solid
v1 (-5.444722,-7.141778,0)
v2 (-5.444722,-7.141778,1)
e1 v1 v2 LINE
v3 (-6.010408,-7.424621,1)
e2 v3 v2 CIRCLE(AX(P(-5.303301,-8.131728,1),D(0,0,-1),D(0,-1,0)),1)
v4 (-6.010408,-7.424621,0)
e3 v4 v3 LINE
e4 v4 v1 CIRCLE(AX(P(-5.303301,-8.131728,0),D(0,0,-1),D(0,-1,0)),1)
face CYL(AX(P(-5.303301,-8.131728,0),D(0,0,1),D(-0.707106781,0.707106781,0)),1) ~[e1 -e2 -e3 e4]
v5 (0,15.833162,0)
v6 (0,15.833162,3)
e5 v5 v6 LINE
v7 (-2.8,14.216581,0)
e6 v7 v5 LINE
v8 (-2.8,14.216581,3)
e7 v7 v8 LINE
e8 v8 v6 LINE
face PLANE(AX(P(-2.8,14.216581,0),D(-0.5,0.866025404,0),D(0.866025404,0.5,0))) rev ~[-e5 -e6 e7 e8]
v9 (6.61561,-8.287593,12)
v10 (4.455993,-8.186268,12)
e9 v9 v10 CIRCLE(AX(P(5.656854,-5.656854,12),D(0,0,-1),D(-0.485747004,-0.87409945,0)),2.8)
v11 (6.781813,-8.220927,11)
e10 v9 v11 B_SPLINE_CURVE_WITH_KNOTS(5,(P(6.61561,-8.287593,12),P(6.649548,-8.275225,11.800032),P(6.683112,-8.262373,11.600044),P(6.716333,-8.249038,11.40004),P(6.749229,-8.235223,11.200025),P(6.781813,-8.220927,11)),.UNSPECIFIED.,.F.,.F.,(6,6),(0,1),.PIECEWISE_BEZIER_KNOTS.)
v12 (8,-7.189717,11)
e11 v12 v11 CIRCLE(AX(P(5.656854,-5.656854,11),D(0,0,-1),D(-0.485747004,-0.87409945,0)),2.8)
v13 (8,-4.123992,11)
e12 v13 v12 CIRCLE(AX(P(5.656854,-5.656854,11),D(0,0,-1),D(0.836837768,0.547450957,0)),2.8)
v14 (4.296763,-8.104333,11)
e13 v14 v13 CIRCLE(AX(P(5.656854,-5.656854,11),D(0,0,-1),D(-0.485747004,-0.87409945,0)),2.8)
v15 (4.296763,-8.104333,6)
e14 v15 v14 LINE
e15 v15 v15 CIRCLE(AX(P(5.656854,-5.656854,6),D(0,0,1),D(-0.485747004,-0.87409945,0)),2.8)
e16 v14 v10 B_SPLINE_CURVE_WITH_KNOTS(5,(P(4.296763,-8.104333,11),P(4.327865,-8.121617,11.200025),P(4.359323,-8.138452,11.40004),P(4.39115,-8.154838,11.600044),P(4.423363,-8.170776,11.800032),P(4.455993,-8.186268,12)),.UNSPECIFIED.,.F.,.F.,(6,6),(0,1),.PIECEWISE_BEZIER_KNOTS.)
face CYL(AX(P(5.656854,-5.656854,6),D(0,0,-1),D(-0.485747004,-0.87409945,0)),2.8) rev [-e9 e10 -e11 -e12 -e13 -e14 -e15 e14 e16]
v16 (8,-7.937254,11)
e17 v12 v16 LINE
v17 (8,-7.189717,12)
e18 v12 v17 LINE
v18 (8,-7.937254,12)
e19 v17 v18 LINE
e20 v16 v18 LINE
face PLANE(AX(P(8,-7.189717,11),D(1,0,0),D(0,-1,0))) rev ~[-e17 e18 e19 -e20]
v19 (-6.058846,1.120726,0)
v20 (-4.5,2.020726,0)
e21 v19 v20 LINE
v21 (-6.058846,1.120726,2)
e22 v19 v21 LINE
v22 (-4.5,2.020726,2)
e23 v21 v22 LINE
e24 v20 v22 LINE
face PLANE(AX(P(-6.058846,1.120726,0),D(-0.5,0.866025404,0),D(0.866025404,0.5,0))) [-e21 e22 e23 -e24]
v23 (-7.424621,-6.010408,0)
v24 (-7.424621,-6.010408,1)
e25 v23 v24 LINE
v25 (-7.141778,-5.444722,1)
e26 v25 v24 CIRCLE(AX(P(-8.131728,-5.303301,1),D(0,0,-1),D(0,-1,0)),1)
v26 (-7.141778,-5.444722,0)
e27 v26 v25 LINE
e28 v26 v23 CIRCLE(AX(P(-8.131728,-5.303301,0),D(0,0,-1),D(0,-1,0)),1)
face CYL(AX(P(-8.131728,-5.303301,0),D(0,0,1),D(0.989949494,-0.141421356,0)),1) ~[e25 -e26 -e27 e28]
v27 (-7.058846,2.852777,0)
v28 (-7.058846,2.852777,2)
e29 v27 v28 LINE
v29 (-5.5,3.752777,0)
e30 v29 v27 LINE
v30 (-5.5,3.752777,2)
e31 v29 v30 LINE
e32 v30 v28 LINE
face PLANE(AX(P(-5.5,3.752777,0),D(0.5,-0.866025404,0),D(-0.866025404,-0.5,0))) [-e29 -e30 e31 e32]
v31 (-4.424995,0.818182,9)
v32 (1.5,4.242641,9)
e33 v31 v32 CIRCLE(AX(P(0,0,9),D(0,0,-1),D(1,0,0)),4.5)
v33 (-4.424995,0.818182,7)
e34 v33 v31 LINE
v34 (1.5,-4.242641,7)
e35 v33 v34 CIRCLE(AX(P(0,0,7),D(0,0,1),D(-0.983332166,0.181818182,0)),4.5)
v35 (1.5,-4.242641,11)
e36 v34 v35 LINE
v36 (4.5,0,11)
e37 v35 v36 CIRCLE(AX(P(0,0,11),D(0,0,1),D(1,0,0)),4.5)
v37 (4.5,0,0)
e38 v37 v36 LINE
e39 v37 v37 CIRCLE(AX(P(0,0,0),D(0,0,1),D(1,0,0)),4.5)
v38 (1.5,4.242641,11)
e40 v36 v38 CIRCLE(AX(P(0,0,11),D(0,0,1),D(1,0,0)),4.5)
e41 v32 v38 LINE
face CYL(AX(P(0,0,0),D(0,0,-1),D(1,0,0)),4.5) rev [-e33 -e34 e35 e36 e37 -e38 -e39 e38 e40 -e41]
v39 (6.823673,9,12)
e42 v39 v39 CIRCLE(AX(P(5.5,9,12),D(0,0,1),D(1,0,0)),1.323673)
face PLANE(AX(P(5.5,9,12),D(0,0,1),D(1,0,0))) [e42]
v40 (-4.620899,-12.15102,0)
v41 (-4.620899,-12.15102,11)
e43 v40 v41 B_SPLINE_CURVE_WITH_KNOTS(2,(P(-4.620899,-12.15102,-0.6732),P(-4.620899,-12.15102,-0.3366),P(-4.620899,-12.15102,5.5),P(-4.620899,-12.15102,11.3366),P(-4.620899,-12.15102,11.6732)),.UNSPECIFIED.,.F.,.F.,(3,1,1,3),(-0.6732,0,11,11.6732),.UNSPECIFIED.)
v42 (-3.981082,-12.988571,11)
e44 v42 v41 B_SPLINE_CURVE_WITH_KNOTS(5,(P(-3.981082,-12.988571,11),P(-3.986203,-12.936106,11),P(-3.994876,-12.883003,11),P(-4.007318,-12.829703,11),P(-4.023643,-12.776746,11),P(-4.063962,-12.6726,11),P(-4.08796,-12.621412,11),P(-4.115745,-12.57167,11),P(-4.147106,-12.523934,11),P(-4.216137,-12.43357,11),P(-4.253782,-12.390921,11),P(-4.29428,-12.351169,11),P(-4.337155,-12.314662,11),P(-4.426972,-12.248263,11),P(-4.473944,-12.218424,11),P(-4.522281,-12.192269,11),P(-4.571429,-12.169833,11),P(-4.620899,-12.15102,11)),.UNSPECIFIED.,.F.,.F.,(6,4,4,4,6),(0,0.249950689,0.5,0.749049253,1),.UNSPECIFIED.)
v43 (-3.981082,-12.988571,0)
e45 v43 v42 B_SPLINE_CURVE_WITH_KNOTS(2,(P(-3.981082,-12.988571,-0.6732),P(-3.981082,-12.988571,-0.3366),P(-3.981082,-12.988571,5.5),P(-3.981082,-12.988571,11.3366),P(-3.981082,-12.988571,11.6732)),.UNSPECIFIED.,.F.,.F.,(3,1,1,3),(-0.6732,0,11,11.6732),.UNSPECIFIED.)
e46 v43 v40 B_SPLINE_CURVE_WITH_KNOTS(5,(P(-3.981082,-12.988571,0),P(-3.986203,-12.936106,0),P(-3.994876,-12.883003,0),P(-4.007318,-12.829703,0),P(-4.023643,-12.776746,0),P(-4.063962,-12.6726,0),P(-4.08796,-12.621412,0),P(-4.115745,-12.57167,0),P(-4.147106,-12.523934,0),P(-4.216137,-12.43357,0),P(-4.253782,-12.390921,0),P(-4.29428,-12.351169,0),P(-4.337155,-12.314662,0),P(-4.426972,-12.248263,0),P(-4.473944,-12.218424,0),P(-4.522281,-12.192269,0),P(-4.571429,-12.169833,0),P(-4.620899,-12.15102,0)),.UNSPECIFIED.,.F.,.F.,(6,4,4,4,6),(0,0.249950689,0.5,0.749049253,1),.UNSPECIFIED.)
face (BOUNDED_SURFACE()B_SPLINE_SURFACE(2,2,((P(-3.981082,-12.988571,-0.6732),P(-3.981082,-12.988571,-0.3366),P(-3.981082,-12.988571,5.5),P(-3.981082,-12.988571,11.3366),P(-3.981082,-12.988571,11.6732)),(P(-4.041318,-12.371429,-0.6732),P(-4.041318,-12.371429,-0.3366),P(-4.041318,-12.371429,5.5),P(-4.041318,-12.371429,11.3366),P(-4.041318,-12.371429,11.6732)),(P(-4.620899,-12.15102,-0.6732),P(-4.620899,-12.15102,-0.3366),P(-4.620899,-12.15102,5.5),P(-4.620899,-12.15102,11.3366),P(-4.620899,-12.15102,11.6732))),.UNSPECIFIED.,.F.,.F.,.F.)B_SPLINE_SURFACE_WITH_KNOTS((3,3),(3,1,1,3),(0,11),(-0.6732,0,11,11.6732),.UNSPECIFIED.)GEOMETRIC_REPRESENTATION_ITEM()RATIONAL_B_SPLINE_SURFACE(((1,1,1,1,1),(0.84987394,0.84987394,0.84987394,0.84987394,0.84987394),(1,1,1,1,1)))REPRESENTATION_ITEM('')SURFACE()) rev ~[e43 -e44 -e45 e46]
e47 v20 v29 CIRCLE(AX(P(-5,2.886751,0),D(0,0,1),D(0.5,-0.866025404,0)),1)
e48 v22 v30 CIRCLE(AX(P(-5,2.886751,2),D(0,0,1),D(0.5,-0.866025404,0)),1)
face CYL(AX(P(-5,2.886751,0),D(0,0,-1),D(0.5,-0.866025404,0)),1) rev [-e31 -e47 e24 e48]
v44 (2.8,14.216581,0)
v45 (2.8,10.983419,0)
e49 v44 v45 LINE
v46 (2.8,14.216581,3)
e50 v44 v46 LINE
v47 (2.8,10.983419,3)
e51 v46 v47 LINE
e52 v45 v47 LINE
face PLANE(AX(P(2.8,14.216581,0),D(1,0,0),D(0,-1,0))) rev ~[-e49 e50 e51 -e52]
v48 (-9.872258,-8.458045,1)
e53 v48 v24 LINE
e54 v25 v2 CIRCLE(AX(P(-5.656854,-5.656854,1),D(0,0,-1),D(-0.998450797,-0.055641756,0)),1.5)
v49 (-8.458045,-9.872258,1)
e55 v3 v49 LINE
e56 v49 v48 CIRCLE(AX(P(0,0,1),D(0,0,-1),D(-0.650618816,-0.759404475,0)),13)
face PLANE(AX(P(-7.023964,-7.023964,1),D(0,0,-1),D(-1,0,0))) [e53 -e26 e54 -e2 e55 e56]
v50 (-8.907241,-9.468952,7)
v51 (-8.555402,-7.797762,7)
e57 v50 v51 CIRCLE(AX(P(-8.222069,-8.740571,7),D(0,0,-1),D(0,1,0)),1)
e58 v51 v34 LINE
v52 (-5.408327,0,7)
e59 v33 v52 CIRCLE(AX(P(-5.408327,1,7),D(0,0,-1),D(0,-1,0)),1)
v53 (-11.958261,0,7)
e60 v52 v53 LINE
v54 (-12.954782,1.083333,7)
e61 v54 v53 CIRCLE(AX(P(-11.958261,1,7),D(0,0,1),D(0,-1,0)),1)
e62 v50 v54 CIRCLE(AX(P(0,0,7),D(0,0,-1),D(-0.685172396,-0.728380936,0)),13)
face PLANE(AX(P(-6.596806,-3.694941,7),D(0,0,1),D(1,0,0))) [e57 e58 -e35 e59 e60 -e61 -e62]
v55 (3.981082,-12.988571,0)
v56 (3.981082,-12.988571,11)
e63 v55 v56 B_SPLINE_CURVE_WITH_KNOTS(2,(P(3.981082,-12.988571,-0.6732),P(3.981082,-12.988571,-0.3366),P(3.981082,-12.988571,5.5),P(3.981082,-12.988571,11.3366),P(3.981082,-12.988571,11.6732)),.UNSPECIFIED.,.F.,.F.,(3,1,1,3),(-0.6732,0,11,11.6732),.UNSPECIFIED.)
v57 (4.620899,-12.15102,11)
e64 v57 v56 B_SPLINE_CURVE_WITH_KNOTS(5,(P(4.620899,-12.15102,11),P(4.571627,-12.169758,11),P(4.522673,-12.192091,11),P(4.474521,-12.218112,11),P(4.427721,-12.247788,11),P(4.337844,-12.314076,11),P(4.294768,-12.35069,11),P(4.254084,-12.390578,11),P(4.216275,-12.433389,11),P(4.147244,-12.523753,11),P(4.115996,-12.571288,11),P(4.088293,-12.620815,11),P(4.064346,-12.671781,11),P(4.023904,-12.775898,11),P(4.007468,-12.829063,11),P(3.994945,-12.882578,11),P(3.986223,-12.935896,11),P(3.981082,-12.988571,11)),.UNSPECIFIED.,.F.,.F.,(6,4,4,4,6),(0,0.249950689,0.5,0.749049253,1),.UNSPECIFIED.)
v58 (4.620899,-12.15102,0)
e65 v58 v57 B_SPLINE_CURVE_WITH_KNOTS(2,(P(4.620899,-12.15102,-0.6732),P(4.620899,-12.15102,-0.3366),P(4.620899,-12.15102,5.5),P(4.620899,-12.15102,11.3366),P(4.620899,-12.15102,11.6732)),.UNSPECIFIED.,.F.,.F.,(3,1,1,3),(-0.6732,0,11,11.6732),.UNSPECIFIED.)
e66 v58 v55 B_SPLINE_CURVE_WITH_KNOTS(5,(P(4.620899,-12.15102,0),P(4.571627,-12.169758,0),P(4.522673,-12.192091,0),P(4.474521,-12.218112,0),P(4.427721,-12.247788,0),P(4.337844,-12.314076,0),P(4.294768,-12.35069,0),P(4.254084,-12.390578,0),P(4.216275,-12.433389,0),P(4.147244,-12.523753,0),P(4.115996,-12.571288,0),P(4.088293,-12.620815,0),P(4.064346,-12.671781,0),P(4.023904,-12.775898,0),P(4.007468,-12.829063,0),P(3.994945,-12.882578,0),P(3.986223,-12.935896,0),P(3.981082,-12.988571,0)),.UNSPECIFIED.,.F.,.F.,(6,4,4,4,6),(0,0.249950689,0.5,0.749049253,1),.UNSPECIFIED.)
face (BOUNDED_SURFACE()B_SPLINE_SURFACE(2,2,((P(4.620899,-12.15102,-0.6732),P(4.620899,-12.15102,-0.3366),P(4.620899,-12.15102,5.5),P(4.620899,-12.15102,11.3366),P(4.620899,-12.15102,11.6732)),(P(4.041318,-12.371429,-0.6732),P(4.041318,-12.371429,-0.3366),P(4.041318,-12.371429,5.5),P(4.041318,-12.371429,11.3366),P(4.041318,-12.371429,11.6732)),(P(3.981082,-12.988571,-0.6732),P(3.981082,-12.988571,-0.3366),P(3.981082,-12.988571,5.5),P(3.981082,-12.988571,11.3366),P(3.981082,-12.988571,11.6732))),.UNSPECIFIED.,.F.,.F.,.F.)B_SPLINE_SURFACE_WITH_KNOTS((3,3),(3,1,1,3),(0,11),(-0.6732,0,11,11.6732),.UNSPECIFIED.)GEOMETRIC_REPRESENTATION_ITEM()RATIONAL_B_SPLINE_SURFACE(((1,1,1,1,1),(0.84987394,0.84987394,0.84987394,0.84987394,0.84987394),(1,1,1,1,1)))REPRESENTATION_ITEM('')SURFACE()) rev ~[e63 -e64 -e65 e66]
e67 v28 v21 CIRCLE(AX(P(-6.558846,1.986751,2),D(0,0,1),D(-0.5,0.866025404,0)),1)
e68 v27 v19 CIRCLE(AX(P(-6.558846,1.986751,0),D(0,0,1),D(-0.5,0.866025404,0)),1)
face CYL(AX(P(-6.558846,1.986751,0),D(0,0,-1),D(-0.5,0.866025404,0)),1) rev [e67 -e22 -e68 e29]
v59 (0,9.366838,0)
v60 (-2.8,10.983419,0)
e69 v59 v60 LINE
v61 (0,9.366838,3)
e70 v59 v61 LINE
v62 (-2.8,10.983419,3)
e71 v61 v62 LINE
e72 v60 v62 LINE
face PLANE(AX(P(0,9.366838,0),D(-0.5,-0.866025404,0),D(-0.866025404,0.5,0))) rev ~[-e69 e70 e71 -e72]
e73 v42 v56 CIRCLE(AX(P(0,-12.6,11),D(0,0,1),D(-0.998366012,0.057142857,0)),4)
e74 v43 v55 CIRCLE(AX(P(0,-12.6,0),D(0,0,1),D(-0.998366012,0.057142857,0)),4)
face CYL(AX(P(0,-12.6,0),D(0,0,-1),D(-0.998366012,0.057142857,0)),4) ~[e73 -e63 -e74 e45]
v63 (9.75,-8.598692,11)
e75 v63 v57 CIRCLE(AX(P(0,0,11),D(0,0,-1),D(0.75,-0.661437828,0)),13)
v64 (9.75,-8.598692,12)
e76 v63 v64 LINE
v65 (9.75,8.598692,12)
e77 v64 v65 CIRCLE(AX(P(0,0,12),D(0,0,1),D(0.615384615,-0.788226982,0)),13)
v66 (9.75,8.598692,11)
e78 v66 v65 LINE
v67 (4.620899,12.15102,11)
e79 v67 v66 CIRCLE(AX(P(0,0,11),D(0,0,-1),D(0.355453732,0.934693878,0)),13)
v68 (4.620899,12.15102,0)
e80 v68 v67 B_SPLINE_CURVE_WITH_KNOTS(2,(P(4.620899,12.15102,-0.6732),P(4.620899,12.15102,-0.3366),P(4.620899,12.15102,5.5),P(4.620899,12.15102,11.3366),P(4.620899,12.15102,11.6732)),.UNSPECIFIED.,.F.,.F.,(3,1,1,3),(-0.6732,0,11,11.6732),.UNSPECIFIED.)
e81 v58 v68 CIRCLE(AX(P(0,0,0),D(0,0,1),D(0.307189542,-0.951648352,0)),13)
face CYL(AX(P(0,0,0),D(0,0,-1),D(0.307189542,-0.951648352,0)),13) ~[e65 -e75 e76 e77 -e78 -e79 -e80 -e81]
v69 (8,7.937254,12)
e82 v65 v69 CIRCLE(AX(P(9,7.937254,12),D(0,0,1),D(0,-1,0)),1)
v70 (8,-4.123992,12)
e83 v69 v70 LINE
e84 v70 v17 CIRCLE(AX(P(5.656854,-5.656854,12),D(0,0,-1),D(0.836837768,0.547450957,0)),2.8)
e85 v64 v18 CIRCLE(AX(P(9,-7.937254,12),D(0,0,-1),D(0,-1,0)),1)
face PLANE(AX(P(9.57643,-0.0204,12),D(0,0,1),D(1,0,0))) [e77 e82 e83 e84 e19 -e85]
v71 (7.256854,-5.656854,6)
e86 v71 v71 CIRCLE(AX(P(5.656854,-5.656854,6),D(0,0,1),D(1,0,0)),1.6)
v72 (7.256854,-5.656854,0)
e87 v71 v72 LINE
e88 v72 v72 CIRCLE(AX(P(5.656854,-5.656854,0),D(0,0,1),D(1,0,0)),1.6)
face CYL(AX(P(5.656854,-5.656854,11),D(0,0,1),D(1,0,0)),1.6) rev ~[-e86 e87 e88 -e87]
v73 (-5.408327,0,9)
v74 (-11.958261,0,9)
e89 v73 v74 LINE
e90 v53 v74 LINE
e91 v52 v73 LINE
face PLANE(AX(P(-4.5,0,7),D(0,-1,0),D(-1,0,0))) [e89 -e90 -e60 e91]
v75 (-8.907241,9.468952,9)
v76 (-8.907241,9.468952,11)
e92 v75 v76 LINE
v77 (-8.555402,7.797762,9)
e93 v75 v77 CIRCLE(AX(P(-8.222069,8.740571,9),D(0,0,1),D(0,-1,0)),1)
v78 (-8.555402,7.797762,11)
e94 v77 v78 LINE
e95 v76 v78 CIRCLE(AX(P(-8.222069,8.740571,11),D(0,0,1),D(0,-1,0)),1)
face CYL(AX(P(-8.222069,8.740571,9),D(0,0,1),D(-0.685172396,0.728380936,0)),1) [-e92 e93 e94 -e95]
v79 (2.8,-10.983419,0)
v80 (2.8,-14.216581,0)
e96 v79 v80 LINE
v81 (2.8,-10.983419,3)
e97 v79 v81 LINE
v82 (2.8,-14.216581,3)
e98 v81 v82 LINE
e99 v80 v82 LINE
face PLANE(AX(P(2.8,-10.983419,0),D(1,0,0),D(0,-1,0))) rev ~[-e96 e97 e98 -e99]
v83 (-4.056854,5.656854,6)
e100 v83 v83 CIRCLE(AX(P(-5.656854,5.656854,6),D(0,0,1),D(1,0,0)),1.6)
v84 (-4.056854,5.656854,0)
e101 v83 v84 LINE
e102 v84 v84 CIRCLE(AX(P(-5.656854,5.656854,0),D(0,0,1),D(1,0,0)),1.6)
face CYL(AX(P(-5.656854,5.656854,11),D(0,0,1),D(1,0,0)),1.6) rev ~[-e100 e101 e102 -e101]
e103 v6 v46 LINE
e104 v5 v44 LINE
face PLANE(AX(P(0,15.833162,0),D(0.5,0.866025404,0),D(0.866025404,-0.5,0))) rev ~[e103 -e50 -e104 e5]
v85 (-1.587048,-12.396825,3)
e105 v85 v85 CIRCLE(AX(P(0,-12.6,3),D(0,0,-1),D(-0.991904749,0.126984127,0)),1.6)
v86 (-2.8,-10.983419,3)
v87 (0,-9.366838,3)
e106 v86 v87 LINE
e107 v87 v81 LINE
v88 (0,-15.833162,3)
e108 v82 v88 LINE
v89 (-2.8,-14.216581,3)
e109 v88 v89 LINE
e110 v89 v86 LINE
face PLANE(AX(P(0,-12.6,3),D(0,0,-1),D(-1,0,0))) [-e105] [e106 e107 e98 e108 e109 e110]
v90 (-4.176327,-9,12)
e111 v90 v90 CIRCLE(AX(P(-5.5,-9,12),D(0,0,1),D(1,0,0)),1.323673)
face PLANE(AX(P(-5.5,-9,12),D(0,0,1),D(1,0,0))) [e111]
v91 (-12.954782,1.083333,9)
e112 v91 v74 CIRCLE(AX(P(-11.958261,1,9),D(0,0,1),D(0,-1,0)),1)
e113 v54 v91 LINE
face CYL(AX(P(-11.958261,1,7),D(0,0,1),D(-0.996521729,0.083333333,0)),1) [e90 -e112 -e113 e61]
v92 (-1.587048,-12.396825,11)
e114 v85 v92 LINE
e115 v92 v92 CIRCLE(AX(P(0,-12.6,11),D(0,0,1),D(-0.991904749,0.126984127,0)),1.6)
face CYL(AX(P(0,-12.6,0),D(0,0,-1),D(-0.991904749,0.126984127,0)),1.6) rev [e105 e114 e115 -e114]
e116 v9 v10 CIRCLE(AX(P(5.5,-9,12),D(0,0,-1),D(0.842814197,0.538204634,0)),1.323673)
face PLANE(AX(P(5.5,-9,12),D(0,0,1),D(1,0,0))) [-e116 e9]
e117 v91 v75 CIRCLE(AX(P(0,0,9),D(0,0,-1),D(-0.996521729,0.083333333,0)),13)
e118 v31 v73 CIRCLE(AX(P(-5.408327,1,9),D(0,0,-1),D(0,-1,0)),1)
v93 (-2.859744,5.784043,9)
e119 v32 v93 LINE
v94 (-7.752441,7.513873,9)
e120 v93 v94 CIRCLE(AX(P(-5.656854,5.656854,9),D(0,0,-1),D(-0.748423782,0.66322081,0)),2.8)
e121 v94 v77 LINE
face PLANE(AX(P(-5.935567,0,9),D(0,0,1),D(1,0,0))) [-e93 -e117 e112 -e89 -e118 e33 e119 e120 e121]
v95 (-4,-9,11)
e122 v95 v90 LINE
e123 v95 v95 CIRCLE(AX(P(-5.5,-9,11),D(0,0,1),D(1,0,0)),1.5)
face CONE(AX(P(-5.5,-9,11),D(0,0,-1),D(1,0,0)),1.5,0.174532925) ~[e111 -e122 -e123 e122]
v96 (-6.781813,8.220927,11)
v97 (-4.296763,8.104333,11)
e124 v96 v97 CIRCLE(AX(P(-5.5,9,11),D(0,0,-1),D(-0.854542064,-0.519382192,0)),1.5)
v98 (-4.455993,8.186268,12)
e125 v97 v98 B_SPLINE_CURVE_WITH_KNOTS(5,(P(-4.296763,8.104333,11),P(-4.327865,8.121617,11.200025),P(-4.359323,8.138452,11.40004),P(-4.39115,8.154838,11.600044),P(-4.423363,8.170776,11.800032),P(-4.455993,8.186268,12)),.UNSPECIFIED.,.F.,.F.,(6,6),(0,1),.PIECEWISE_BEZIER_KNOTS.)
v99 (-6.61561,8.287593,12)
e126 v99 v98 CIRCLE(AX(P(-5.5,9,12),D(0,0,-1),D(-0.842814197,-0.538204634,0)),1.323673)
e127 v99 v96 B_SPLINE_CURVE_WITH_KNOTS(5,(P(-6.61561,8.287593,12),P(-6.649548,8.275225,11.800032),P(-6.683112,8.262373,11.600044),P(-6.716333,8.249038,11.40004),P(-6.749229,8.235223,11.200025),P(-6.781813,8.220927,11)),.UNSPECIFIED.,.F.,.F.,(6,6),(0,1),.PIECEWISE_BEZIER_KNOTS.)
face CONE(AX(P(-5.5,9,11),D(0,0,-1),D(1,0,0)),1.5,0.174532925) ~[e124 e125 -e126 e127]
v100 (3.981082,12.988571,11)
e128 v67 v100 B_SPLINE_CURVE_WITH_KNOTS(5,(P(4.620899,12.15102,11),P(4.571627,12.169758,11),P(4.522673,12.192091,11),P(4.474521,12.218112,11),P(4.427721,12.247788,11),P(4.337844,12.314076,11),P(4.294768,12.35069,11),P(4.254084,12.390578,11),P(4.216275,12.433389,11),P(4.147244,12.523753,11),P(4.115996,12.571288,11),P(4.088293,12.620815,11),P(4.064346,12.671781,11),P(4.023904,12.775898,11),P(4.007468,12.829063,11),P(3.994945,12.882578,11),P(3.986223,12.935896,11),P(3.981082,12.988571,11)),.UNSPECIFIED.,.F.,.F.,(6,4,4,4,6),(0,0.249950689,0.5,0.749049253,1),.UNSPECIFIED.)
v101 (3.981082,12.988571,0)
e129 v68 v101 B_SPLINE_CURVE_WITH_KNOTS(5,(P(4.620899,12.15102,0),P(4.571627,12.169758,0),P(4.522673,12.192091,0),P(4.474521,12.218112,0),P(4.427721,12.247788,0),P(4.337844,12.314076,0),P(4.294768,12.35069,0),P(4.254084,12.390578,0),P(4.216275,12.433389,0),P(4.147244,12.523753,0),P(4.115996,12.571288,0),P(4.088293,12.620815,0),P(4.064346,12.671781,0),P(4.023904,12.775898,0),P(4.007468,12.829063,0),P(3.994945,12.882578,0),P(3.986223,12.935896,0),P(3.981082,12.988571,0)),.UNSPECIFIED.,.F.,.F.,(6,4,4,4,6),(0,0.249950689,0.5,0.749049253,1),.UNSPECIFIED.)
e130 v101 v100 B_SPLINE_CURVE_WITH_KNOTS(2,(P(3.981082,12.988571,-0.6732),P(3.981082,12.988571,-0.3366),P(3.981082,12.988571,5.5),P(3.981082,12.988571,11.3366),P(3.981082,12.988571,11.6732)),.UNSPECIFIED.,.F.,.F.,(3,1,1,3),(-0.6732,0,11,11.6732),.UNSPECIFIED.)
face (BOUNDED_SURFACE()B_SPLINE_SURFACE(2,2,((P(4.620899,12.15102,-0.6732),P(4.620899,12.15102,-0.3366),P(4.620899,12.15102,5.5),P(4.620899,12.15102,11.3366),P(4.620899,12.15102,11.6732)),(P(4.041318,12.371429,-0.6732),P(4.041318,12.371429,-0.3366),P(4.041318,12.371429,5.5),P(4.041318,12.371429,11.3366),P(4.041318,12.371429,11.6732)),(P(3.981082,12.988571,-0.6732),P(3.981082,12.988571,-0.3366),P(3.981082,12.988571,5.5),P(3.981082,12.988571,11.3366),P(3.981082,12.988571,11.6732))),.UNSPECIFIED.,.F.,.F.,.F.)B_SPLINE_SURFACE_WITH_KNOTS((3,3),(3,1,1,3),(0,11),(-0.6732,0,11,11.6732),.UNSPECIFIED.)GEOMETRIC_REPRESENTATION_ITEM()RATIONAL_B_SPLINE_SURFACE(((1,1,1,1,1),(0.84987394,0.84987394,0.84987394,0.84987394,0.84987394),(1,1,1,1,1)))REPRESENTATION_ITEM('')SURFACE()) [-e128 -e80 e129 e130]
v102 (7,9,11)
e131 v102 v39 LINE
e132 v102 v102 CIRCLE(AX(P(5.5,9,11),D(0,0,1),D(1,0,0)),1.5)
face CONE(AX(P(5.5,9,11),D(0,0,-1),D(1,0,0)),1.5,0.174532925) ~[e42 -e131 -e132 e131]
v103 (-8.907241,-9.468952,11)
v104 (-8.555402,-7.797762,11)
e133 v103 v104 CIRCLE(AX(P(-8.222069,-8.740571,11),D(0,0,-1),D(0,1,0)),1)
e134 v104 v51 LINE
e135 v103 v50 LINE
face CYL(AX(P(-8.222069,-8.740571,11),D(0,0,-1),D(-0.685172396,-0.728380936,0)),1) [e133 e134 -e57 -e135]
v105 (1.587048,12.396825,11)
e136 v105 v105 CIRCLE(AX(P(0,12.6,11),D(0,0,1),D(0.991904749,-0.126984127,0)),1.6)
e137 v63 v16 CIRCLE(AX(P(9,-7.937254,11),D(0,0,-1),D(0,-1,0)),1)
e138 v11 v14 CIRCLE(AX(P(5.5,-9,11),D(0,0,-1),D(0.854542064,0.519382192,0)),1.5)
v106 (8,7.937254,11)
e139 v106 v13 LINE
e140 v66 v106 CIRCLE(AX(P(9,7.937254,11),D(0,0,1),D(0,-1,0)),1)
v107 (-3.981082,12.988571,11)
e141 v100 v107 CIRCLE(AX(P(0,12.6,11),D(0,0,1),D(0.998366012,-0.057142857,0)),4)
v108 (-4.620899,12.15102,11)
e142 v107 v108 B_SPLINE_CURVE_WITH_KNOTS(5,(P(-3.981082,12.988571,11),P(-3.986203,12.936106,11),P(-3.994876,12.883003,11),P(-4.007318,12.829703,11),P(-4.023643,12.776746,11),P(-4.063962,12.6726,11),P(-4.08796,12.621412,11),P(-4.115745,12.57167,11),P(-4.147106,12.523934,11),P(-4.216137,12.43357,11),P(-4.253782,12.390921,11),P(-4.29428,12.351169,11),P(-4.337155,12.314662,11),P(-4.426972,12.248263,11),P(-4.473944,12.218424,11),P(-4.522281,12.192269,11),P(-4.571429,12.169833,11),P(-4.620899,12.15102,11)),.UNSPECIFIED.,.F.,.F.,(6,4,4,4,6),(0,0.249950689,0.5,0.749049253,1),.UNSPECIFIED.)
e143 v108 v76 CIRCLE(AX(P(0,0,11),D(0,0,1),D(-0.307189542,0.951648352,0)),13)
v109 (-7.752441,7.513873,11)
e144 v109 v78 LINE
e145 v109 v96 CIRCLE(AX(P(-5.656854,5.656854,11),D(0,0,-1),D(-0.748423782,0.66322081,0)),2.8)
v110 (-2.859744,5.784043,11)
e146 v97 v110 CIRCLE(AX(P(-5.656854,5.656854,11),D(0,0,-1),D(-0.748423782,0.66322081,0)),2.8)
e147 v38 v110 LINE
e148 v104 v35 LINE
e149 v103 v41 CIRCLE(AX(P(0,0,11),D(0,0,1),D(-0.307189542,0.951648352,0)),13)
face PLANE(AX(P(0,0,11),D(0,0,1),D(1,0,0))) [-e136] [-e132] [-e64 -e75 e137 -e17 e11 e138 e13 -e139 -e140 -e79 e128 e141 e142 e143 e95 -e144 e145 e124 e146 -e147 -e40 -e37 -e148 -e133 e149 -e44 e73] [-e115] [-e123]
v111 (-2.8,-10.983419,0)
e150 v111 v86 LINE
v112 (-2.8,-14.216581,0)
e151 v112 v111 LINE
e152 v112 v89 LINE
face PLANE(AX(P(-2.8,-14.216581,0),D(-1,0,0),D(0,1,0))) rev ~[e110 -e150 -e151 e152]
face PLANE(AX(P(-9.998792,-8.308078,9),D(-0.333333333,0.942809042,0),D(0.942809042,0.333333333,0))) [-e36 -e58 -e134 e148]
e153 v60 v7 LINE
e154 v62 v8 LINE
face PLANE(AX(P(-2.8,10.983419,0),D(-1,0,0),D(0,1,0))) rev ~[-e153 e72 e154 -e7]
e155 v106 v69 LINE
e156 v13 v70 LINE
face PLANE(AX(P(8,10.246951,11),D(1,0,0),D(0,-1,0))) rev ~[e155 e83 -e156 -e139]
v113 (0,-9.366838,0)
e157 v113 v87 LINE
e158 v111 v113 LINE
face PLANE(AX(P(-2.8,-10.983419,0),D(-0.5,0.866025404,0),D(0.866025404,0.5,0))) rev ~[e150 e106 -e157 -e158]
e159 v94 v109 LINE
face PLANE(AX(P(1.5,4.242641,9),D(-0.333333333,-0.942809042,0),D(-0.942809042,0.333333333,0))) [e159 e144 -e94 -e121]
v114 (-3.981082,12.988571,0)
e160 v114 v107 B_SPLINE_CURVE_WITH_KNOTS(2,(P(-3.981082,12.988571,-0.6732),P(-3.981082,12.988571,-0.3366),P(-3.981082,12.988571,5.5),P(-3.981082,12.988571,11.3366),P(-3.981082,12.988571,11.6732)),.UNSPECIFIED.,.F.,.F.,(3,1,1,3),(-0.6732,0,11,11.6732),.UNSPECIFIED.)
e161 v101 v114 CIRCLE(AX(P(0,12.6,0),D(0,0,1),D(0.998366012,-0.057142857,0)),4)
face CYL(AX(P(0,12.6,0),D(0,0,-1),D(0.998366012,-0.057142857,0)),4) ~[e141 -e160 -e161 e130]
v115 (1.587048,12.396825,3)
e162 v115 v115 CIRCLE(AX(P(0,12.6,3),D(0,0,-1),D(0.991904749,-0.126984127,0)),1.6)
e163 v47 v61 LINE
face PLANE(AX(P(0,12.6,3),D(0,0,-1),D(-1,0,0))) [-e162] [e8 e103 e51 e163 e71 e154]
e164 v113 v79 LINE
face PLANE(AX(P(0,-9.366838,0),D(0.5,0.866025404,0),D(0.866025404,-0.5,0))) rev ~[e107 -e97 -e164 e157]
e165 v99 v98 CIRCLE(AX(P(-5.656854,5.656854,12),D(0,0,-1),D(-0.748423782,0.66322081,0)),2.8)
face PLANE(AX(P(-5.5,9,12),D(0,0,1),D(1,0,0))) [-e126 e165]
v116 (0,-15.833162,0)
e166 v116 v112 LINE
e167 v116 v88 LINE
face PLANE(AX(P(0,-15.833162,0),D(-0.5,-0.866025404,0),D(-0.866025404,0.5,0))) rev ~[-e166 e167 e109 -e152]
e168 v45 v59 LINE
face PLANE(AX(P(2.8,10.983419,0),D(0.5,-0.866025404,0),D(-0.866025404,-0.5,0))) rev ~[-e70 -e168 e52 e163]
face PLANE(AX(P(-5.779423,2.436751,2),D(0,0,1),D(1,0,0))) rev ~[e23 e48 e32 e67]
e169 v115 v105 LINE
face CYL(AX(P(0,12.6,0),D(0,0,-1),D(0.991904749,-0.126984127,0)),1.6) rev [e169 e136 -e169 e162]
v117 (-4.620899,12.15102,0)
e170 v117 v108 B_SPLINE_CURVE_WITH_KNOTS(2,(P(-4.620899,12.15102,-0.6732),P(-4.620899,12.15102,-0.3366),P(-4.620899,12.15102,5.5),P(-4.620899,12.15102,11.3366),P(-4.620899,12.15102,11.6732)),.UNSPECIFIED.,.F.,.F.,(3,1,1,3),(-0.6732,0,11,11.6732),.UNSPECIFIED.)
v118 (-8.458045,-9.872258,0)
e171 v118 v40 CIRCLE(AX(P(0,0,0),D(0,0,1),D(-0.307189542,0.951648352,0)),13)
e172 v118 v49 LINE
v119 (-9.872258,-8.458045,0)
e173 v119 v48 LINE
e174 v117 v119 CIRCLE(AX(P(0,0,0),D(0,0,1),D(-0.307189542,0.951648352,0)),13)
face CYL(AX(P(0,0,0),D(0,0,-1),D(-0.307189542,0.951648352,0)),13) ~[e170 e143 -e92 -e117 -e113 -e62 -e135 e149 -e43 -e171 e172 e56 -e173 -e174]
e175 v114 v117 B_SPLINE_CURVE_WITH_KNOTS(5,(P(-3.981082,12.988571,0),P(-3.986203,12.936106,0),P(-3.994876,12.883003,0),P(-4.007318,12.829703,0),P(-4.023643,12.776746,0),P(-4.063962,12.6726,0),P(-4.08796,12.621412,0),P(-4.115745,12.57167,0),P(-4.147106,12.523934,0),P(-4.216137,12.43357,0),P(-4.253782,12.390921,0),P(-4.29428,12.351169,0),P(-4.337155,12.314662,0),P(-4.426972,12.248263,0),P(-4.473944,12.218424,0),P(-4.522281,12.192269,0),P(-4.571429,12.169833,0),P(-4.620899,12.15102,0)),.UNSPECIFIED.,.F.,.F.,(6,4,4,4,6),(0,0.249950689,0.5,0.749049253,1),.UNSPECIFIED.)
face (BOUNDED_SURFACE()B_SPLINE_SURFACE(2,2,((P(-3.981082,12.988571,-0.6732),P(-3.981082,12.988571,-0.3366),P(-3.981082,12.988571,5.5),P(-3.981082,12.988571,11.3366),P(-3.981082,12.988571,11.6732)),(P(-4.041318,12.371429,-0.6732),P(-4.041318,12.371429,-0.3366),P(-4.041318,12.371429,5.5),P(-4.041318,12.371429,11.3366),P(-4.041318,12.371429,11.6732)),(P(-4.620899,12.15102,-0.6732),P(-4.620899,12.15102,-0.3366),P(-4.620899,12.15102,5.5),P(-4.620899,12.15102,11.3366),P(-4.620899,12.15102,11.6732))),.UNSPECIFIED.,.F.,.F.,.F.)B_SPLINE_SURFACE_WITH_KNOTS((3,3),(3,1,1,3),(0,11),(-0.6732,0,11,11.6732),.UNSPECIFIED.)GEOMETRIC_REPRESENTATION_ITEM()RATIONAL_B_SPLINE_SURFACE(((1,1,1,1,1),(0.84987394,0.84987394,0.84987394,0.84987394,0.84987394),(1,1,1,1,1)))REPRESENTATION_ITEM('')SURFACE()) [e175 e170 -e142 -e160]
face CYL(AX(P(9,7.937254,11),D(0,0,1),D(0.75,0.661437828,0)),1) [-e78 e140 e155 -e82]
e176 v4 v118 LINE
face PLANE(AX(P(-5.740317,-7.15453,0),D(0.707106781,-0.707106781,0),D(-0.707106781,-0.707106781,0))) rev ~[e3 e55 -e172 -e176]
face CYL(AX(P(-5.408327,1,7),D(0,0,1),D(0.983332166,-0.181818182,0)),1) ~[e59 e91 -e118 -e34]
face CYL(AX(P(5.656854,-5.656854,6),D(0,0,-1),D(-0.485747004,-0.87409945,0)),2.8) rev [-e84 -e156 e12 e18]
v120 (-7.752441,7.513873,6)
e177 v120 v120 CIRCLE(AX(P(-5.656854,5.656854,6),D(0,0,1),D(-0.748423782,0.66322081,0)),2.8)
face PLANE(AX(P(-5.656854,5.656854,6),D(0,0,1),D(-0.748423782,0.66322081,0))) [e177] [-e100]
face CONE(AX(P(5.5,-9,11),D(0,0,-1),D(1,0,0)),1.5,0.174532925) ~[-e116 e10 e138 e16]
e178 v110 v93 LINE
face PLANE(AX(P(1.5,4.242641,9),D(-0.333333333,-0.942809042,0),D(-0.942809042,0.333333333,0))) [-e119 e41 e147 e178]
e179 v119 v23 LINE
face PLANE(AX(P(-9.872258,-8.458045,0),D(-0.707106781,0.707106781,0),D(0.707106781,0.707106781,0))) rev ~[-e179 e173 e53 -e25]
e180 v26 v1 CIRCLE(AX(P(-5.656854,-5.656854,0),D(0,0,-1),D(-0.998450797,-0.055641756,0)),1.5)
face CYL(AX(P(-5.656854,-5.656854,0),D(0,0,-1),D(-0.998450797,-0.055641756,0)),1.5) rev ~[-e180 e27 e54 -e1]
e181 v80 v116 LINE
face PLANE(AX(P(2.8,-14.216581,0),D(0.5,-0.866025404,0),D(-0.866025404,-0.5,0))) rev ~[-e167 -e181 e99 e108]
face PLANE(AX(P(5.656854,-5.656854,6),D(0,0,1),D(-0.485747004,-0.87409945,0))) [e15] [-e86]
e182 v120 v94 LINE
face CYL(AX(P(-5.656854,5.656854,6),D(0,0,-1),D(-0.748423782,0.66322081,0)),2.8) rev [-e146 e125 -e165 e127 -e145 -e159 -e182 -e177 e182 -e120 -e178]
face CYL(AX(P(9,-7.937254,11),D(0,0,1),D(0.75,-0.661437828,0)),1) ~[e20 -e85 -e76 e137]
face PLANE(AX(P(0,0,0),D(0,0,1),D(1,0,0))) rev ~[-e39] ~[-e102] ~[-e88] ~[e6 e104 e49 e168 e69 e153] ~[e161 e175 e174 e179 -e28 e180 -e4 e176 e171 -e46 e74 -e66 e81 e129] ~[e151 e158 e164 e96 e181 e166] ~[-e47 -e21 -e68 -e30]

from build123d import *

# Parameters (mm, degrees)
SKETCH1_R                     = 4.5
BOSS_EXTRUDE1_DEPTH           = 11
CUT_EXTRUDE1_START            = -2
CUT_EXTRUDE1_DEPTH            = 2
SKETCH3_R                     = 1.4999999999999996
BOSS_EXTRUDE2_DEPTH           = 1
BOSS_EXTRUDE2_DRAFT           = 10.000000000000021
BOSS_EXTRUDE2_PROFILE_2_DEPTH = 1
BOSS_EXTRUDE2_PROFILE_2_DRAFT = 10.000000000000021
BOSS_EXTRUDE2_PROFILE_3_DEPTH = 1
BOSS_EXTRUDE2_PROFILE_3_DRAFT = 10.000000000000021
SKETCH3_R_2                   = 1.5000000000000002
BOSS_EXTRUDE2_PROFILE_4_DEPTH = 1
BOSS_EXTRUDE2_PROFILE_4_DRAFT = 10.000000000000021
SKETCH4_R                     = 1.5999999999999999
CUT_EXTRUDE2_DEPTH            = 24.7815054191277
CUT_EXTRUDE3_DEPTH            = 24.7815054191277
CUT_EXTRUDE3_DEPTH_BACK       = 5
SKETCH5_R                     = 2.7999999999999994
SKETCH5_R_2                   = 2.8
CUT_EXTRUDE4_DEPTH            = 3
CUT_EXTRUDE5_START            = -2
CUT_EXTRUDE5_DEPTH            = 2
BOSS_EXTRUDE3_DEPTH           = 1
CUT_EXTRUDE6_DEPTH            = 1
FILLET1_R                     = 1
CUT_EXTRUDE7_DEPTH            = 2


with BuildPart() as part:
    # Sketch1 → Boss-Extrude1 (new body)
    with BuildSketch(Plane.XY):
        with BuildLine():
            ThreePointArc((3.993464047921404, -12.371428571428574), (13.000000000000002, 0), (3.9934640479214014, 12.371428571428574))
            ThreePointArc((3.9934640479214014, 12.371428571428574), (2.9081167199998763, 15.346426249302382), (-4.07e-15, 16.6))
            ThreePointArc((-4.07e-15, 16.6), (-2.908116719999883, 15.346426249302382), (-3.9934640479214067, 12.371428571428574))
            ThreePointArc((-3.9934640479214067, 12.371428571428574), (-13.000000000000002, 1.59e-15), (-3.993464047921404, -12.371428571428574))
            ThreePointArc((-3.993464047921404, -12.371428571428574), (-2.90811671999988, -15.346426249302382), (0, -16.6))
            ThreePointArc((0, -16.6), (2.90811671999988, -15.346426249302382), (3.993464047921404, -12.371428571428574))
        make_face()
        Circle(SKETCH1_R, mode=Mode.SUBTRACT)
        with BuildLine():
            ThreePointArc((1.5870475987269075, -12.396825396825397), (4.5e-16, -11), (-1.587047598726907, -12.396825396825397))
            ThreePointArc((-1.587047598726907, -12.396825396825397), (-2.6e-16, -14.2), (1.5870475987269075, -12.396825396825397))
        make_face(mode=Mode.SUBTRACT)
        with BuildLine():
            ThreePointArc((-1.5870475987270802, 12.396825396825376), (-4.89e-15, 10.99999999999983), (1.5870475987267345, 12.396825396825419))
            ThreePointArc((1.5870475987267345, 12.396825396825419), (-2.28e-15, 14.199999999999829), (-1.5870475987270802, 12.396825396825376))
        make_face(mode=Mode.SUBTRACT)
    extrude(amount=BOSS_EXTRUDE1_DEPTH)

    # Sketch2 → Cut-Extrude1 (cut)
    with BuildSketch(Plane.XY.offset(11).offset(CUT_EXTRUDE1_START)):
        with BuildLine():
            Line((-9.998792207106897, -8.30807765966944), (1.5, -4.242640687119285))
            Line((1.5, -4.242640687119285), (1.5, 4.242640687119285))
            Line((1.5, 4.242640687119285), (-9.998792207106897, 8.30807765966944))
            ThreePointArc((-9.998792207106897, 8.30807765966944), (-13.000000000000002, 1.59e-15), (-9.998792207106897, -8.30807765966944))
        make_face()
    extrude(amount=CUT_EXTRUDE1_DEPTH, mode=Mode.SUBTRACT)


with BuildPart() as boss_extrude2_tool:
    # Sketch3 → Boss-Extrude2 (with draft: the straight prism first)
    with BuildSketch(Plane.XY.offset(11)):
        with Locations((-5.5, -9)):
            Circle(SKETCH3_R)
    extrude(amount=BOSS_EXTRUDE2_DEPTH)
    # Boss-Extrude2: the draft: its side faces are tilted about the plane it starts from
    boss_extrude2_sides = [boss_extrude2_tool.faces().sort_by_distance(p)[0] for p in [
        (-7, -9, 11.5),
    ]]
    draft(boss_extrude2_sides, Plane.XY.offset(11), BOSS_EXTRUDE2_DRAFT)


with BuildPart() as part_1:
    add(part.part)

    # Boss-Extrude2: add boss_extrude2_tool
    add(boss_extrude2_tool.part)


with BuildPart() as boss_extrude2_profile_2_tool:
    # Sketch3 → Boss-Extrude2 profile 2 (with draft: the straight prism first)
    with BuildSketch(Plane.XY.offset(11)):
        with Locations((5.5, -9)):
            Circle(SKETCH3_R)
    extrude(amount=BOSS_EXTRUDE2_PROFILE_2_DEPTH)
    # Boss-Extrude2 profile 2: the draft: its side faces are tilted about the plane it starts from
    boss_extrude2_profile_2_sides = [boss_extrude2_profile_2_tool.faces().sort_by_distance(p)[0] for p in [
        (4, -9, 11.5),
    ]]
    draft(boss_extrude2_profile_2_sides, Plane.XY.offset(11), BOSS_EXTRUDE2_PROFILE_2_DRAFT)


with BuildPart() as part_2:
    add(part_1.part)

    # Boss-Extrude2 profile 2: add boss_extrude2_profile_2_tool
    add(boss_extrude2_profile_2_tool.part)


with BuildPart() as boss_extrude2_profile_3_tool:
    # Sketch3 → Boss-Extrude2 profile 3 (with draft: the straight prism first)
    with BuildSketch(Plane.XY.offset(11)):
        with Locations((5.499999999999998, 9)):
            Circle(SKETCH3_R)
    extrude(amount=BOSS_EXTRUDE2_PROFILE_3_DEPTH)
    # Boss-Extrude2 profile 3: the draft: its side faces are tilted about the plane it starts from
    boss_extrude2_profile_3_sides = [boss_extrude2_profile_3_tool.faces().sort_by_distance(p)[0] for p in [
        (4, 9, 11.5),
    ]]
    draft(boss_extrude2_profile_3_sides, Plane.XY.offset(11), BOSS_EXTRUDE2_PROFILE_3_DRAFT)


with BuildPart() as part_3:
    add(part_2.part)

    # Boss-Extrude2 profile 3: add boss_extrude2_profile_3_tool
    add(boss_extrude2_profile_3_tool.part)


with BuildPart() as boss_extrude2_profile_4_tool:
    # Sketch3 → Boss-Extrude2 profile 4 (with draft: the straight prism first)
    with BuildSketch(Plane.XY.offset(11)):
        with Locations((-5.500000000000003, 9)):
            Circle(SKETCH3_R_2)
    extrude(amount=BOSS_EXTRUDE2_PROFILE_4_DEPTH)
    # Boss-Extrude2 profile 4: the draft: its side faces are tilted about the plane it starts from
    boss_extrude2_profile_4_sides = [boss_extrude2_profile_4_tool.faces().sort_by_distance(p)[0] for p in [
        (-7, 9, 11.5),
    ]]
    draft(boss_extrude2_profile_4_sides, Plane.XY.offset(11), BOSS_EXTRUDE2_PROFILE_4_DRAFT)


with BuildPart() as part_4:
    add(part_3.part)

    # Boss-Extrude2 profile 4: add boss_extrude2_profile_4_tool
    add(boss_extrude2_profile_4_tool.part)

    # Sketch4 → Cut-Extrude2 (cut, through all)
    with BuildSketch(Plane.XY.offset(11)):
        with Locations((5.65685424949239, -5.656854249492369)):
            Circle(SKETCH4_R)
        with Locations((-5.65685424949239, 5.656854249492373)):
            Circle(SKETCH4_R)
    extrude(amount=-CUT_EXTRUDE2_DEPTH, mode=Mode.SUBTRACT)

    # Sketch5 → Cut-Extrude3 (cut, two sides: drawn at the far end of the back side and taken through both)
    with BuildSketch(Plane.XY.offset(11).offset(-CUT_EXTRUDE3_DEPTH_BACK)):
        with Locations(Location((5.65685424949239, -5.656854249492369, 0), (0, 0, 240.938574299))):
            Circle(SKETCH5_R)
        with Locations(Location((-5.656854249492392, 5.656854249492367, 0), (0, 0, 138.454024878))):
            Circle(SKETCH5_R_2)
    extrude(amount=CUT_EXTRUDE3_DEPTH + CUT_EXTRUDE3_DEPTH_BACK, mode=Mode.SUBTRACT)

    # Sketch6 → Cut-Extrude4 (cut)
    with BuildSketch(Plane(origin=(0, 0, 0), x_dir=(-1, 0, 0), z_dir=(0, 0, -1))):
        Polygon((9.73e-15, 9.366838492538095), (2.800000000000004, 10.983419246269044), (2.800000000000004, 14.216580753730957), (1.041e-14, 15.833161507461904), (-2.7999999999999936, 14.21658075373095), (-2.7999999999999936, 10.98341924626905), align=None)
        Polygon((8.7e-16, -9.366838492538093), (-2.7999999999999994, -10.983419246269044), (-2.7999999999999994, -14.216580753730952), (-7.6e-16, -15.833161507461904), (2.7999999999999994, -14.216580753730952), (2.8000000000000003, -10.983419246269046), align=None)
    extrude(amount=-CUT_EXTRUDE4_DEPTH, mode=Mode.SUBTRACT)

    # Sketch7 → Cut-Extrude5 (cut)
    with BuildSketch(Plane.XY.offset(9).offset(CUT_EXTRUDE5_START)):
        with BuildLine():
            Line((-4.5, 5.5e-16), (-13.000000000000004, 1.59e-15))
            ThreePointArc((-13.000000000000004, 1.59e-15), (-12.226698219314768, -4.4167692552141835), (-9.998792207106897, -8.30807765966944))
            Line((-9.998792207106897, -8.30807765966944), (1.4999999999999987, -4.242640687119285))
            ThreePointArc((1.4999999999999987, -4.242640687119285), (-2.598076211353315, -3.6742346141747677), (-4.5, 5.5e-16))
        make_face()
    extrude(amount=CUT_EXTRUDE5_DEPTH, mode=Mode.SUBTRACT)

    # Sketch8 → Boss-Extrude3 (add)
    with BuildSketch(Plane.XY.offset(11)):
        with BuildLine():
            Line((8.000000000000002, 10.2469507659596), (8.000000000000002, -4.123991570751015))
            ThreePointArc((8.000000000000002, -4.123991570751015), (8.456854249492391, -5.656854249492369), (8.000000000000002, -7.189716928233723))
            Line((8.000000000000002, -7.189716928233723), (8.000000000000002, -10.2469507659596))
            ThreePointArc((8.000000000000002, -10.2469507659596), (13.000000000000002, 0), (8.000000000000002, 10.2469507659596))
        make_face()
    extrude(amount=BOSS_EXTRUDE3_DEPTH)

    # Sketch9 → Cut-Extrude6 (cut)
    with BuildSketch(Plane(origin=(0, 0, 0), x_dir=(-1, 0, 0), z_dir=(0, 0, -1))):
        with BuildLine():
            Line((5.740316883347941, -7.154530445721011), (8.45804460872515, -9.87225817109821))
            ThreePointArc((8.45804460872515, -9.87225817109821), (9.192388155425135, -9.192388155425098), (9.872258171098244, -8.458044608725112))
            Line((9.872258171098244, -8.458044608725112), (7.154530445721033, -5.740316883347915))
            ThreePointArc((7.154530445721033, -5.740316883347915), (4.596194077712568, -4.59619407771255), (5.740316883347941, -7.154530445721011))
        make_face()
    extrude(amount=-CUT_EXTRUDE6_DEPTH, mode=Mode.SUBTRACT)

    # Fillet1
    fillet1_edges = [part_4.edges().sort_by_distance(p)[0] for p in [
        (-3.993464047921405, -12.371428571428574, 5.5),
        (-3.9934640479214067, 12.371428571428574, 5.5),
        (3.9934640479214023, 12.371428571428574, 5.5),
        (3.9934640479214036, -12.371428571428574, 5.5),
        (-4.5, 7.8e-16, 8),
        (-13.000000000000005, 1.59e-15, 8),
        (8.000000000000002, -10.2469507659596, 11.5),
        (8.000000000000002, 10.2469507659596, 11.5),
        (-5.7403168833479405, -7.1545304457210115, 0.5),
        (-7.154530445721033, -5.740316883347915, 0.5),
        (-9.998792207106899, -8.30807765966944, 9),
        (-9.998792207106895, 8.30807765966944, 10),
    ]]
    fillet(fillet1_edges, radius=FILLET1_R)

    # Sketch10 → Cut-Extrude7 (cut)
    with BuildSketch(Plane(origin=(0, 0, 0), x_dir=(-1, 0, 0), z_dir=(0, 0, -1))):
        with BuildLine():
            Line((5.500000000000001, 3.7527767497325657), (7.058845726811989, 2.8527767497325622))
            ThreePointArc((7.058845726811989, 2.8527767497325622), (7.424871130596426, 1.4867513459481236), (6.058845726811987, 1.120725942163687))
            Line((6.058845726811987, 1.120725942163687), (4.499999999999998, 2.0207259421636885))
            ThreePointArc((4.499999999999998, 2.0207259421636885), (4.13397459621556, 3.3867513459481287), (5.500000000000001, 3.7527767497325657))
        make_face()
    extrude(amount=-CUT_EXTRUDE7_DEPTH, mode=Mode.SUBTRACT)


solid = part_4.part
